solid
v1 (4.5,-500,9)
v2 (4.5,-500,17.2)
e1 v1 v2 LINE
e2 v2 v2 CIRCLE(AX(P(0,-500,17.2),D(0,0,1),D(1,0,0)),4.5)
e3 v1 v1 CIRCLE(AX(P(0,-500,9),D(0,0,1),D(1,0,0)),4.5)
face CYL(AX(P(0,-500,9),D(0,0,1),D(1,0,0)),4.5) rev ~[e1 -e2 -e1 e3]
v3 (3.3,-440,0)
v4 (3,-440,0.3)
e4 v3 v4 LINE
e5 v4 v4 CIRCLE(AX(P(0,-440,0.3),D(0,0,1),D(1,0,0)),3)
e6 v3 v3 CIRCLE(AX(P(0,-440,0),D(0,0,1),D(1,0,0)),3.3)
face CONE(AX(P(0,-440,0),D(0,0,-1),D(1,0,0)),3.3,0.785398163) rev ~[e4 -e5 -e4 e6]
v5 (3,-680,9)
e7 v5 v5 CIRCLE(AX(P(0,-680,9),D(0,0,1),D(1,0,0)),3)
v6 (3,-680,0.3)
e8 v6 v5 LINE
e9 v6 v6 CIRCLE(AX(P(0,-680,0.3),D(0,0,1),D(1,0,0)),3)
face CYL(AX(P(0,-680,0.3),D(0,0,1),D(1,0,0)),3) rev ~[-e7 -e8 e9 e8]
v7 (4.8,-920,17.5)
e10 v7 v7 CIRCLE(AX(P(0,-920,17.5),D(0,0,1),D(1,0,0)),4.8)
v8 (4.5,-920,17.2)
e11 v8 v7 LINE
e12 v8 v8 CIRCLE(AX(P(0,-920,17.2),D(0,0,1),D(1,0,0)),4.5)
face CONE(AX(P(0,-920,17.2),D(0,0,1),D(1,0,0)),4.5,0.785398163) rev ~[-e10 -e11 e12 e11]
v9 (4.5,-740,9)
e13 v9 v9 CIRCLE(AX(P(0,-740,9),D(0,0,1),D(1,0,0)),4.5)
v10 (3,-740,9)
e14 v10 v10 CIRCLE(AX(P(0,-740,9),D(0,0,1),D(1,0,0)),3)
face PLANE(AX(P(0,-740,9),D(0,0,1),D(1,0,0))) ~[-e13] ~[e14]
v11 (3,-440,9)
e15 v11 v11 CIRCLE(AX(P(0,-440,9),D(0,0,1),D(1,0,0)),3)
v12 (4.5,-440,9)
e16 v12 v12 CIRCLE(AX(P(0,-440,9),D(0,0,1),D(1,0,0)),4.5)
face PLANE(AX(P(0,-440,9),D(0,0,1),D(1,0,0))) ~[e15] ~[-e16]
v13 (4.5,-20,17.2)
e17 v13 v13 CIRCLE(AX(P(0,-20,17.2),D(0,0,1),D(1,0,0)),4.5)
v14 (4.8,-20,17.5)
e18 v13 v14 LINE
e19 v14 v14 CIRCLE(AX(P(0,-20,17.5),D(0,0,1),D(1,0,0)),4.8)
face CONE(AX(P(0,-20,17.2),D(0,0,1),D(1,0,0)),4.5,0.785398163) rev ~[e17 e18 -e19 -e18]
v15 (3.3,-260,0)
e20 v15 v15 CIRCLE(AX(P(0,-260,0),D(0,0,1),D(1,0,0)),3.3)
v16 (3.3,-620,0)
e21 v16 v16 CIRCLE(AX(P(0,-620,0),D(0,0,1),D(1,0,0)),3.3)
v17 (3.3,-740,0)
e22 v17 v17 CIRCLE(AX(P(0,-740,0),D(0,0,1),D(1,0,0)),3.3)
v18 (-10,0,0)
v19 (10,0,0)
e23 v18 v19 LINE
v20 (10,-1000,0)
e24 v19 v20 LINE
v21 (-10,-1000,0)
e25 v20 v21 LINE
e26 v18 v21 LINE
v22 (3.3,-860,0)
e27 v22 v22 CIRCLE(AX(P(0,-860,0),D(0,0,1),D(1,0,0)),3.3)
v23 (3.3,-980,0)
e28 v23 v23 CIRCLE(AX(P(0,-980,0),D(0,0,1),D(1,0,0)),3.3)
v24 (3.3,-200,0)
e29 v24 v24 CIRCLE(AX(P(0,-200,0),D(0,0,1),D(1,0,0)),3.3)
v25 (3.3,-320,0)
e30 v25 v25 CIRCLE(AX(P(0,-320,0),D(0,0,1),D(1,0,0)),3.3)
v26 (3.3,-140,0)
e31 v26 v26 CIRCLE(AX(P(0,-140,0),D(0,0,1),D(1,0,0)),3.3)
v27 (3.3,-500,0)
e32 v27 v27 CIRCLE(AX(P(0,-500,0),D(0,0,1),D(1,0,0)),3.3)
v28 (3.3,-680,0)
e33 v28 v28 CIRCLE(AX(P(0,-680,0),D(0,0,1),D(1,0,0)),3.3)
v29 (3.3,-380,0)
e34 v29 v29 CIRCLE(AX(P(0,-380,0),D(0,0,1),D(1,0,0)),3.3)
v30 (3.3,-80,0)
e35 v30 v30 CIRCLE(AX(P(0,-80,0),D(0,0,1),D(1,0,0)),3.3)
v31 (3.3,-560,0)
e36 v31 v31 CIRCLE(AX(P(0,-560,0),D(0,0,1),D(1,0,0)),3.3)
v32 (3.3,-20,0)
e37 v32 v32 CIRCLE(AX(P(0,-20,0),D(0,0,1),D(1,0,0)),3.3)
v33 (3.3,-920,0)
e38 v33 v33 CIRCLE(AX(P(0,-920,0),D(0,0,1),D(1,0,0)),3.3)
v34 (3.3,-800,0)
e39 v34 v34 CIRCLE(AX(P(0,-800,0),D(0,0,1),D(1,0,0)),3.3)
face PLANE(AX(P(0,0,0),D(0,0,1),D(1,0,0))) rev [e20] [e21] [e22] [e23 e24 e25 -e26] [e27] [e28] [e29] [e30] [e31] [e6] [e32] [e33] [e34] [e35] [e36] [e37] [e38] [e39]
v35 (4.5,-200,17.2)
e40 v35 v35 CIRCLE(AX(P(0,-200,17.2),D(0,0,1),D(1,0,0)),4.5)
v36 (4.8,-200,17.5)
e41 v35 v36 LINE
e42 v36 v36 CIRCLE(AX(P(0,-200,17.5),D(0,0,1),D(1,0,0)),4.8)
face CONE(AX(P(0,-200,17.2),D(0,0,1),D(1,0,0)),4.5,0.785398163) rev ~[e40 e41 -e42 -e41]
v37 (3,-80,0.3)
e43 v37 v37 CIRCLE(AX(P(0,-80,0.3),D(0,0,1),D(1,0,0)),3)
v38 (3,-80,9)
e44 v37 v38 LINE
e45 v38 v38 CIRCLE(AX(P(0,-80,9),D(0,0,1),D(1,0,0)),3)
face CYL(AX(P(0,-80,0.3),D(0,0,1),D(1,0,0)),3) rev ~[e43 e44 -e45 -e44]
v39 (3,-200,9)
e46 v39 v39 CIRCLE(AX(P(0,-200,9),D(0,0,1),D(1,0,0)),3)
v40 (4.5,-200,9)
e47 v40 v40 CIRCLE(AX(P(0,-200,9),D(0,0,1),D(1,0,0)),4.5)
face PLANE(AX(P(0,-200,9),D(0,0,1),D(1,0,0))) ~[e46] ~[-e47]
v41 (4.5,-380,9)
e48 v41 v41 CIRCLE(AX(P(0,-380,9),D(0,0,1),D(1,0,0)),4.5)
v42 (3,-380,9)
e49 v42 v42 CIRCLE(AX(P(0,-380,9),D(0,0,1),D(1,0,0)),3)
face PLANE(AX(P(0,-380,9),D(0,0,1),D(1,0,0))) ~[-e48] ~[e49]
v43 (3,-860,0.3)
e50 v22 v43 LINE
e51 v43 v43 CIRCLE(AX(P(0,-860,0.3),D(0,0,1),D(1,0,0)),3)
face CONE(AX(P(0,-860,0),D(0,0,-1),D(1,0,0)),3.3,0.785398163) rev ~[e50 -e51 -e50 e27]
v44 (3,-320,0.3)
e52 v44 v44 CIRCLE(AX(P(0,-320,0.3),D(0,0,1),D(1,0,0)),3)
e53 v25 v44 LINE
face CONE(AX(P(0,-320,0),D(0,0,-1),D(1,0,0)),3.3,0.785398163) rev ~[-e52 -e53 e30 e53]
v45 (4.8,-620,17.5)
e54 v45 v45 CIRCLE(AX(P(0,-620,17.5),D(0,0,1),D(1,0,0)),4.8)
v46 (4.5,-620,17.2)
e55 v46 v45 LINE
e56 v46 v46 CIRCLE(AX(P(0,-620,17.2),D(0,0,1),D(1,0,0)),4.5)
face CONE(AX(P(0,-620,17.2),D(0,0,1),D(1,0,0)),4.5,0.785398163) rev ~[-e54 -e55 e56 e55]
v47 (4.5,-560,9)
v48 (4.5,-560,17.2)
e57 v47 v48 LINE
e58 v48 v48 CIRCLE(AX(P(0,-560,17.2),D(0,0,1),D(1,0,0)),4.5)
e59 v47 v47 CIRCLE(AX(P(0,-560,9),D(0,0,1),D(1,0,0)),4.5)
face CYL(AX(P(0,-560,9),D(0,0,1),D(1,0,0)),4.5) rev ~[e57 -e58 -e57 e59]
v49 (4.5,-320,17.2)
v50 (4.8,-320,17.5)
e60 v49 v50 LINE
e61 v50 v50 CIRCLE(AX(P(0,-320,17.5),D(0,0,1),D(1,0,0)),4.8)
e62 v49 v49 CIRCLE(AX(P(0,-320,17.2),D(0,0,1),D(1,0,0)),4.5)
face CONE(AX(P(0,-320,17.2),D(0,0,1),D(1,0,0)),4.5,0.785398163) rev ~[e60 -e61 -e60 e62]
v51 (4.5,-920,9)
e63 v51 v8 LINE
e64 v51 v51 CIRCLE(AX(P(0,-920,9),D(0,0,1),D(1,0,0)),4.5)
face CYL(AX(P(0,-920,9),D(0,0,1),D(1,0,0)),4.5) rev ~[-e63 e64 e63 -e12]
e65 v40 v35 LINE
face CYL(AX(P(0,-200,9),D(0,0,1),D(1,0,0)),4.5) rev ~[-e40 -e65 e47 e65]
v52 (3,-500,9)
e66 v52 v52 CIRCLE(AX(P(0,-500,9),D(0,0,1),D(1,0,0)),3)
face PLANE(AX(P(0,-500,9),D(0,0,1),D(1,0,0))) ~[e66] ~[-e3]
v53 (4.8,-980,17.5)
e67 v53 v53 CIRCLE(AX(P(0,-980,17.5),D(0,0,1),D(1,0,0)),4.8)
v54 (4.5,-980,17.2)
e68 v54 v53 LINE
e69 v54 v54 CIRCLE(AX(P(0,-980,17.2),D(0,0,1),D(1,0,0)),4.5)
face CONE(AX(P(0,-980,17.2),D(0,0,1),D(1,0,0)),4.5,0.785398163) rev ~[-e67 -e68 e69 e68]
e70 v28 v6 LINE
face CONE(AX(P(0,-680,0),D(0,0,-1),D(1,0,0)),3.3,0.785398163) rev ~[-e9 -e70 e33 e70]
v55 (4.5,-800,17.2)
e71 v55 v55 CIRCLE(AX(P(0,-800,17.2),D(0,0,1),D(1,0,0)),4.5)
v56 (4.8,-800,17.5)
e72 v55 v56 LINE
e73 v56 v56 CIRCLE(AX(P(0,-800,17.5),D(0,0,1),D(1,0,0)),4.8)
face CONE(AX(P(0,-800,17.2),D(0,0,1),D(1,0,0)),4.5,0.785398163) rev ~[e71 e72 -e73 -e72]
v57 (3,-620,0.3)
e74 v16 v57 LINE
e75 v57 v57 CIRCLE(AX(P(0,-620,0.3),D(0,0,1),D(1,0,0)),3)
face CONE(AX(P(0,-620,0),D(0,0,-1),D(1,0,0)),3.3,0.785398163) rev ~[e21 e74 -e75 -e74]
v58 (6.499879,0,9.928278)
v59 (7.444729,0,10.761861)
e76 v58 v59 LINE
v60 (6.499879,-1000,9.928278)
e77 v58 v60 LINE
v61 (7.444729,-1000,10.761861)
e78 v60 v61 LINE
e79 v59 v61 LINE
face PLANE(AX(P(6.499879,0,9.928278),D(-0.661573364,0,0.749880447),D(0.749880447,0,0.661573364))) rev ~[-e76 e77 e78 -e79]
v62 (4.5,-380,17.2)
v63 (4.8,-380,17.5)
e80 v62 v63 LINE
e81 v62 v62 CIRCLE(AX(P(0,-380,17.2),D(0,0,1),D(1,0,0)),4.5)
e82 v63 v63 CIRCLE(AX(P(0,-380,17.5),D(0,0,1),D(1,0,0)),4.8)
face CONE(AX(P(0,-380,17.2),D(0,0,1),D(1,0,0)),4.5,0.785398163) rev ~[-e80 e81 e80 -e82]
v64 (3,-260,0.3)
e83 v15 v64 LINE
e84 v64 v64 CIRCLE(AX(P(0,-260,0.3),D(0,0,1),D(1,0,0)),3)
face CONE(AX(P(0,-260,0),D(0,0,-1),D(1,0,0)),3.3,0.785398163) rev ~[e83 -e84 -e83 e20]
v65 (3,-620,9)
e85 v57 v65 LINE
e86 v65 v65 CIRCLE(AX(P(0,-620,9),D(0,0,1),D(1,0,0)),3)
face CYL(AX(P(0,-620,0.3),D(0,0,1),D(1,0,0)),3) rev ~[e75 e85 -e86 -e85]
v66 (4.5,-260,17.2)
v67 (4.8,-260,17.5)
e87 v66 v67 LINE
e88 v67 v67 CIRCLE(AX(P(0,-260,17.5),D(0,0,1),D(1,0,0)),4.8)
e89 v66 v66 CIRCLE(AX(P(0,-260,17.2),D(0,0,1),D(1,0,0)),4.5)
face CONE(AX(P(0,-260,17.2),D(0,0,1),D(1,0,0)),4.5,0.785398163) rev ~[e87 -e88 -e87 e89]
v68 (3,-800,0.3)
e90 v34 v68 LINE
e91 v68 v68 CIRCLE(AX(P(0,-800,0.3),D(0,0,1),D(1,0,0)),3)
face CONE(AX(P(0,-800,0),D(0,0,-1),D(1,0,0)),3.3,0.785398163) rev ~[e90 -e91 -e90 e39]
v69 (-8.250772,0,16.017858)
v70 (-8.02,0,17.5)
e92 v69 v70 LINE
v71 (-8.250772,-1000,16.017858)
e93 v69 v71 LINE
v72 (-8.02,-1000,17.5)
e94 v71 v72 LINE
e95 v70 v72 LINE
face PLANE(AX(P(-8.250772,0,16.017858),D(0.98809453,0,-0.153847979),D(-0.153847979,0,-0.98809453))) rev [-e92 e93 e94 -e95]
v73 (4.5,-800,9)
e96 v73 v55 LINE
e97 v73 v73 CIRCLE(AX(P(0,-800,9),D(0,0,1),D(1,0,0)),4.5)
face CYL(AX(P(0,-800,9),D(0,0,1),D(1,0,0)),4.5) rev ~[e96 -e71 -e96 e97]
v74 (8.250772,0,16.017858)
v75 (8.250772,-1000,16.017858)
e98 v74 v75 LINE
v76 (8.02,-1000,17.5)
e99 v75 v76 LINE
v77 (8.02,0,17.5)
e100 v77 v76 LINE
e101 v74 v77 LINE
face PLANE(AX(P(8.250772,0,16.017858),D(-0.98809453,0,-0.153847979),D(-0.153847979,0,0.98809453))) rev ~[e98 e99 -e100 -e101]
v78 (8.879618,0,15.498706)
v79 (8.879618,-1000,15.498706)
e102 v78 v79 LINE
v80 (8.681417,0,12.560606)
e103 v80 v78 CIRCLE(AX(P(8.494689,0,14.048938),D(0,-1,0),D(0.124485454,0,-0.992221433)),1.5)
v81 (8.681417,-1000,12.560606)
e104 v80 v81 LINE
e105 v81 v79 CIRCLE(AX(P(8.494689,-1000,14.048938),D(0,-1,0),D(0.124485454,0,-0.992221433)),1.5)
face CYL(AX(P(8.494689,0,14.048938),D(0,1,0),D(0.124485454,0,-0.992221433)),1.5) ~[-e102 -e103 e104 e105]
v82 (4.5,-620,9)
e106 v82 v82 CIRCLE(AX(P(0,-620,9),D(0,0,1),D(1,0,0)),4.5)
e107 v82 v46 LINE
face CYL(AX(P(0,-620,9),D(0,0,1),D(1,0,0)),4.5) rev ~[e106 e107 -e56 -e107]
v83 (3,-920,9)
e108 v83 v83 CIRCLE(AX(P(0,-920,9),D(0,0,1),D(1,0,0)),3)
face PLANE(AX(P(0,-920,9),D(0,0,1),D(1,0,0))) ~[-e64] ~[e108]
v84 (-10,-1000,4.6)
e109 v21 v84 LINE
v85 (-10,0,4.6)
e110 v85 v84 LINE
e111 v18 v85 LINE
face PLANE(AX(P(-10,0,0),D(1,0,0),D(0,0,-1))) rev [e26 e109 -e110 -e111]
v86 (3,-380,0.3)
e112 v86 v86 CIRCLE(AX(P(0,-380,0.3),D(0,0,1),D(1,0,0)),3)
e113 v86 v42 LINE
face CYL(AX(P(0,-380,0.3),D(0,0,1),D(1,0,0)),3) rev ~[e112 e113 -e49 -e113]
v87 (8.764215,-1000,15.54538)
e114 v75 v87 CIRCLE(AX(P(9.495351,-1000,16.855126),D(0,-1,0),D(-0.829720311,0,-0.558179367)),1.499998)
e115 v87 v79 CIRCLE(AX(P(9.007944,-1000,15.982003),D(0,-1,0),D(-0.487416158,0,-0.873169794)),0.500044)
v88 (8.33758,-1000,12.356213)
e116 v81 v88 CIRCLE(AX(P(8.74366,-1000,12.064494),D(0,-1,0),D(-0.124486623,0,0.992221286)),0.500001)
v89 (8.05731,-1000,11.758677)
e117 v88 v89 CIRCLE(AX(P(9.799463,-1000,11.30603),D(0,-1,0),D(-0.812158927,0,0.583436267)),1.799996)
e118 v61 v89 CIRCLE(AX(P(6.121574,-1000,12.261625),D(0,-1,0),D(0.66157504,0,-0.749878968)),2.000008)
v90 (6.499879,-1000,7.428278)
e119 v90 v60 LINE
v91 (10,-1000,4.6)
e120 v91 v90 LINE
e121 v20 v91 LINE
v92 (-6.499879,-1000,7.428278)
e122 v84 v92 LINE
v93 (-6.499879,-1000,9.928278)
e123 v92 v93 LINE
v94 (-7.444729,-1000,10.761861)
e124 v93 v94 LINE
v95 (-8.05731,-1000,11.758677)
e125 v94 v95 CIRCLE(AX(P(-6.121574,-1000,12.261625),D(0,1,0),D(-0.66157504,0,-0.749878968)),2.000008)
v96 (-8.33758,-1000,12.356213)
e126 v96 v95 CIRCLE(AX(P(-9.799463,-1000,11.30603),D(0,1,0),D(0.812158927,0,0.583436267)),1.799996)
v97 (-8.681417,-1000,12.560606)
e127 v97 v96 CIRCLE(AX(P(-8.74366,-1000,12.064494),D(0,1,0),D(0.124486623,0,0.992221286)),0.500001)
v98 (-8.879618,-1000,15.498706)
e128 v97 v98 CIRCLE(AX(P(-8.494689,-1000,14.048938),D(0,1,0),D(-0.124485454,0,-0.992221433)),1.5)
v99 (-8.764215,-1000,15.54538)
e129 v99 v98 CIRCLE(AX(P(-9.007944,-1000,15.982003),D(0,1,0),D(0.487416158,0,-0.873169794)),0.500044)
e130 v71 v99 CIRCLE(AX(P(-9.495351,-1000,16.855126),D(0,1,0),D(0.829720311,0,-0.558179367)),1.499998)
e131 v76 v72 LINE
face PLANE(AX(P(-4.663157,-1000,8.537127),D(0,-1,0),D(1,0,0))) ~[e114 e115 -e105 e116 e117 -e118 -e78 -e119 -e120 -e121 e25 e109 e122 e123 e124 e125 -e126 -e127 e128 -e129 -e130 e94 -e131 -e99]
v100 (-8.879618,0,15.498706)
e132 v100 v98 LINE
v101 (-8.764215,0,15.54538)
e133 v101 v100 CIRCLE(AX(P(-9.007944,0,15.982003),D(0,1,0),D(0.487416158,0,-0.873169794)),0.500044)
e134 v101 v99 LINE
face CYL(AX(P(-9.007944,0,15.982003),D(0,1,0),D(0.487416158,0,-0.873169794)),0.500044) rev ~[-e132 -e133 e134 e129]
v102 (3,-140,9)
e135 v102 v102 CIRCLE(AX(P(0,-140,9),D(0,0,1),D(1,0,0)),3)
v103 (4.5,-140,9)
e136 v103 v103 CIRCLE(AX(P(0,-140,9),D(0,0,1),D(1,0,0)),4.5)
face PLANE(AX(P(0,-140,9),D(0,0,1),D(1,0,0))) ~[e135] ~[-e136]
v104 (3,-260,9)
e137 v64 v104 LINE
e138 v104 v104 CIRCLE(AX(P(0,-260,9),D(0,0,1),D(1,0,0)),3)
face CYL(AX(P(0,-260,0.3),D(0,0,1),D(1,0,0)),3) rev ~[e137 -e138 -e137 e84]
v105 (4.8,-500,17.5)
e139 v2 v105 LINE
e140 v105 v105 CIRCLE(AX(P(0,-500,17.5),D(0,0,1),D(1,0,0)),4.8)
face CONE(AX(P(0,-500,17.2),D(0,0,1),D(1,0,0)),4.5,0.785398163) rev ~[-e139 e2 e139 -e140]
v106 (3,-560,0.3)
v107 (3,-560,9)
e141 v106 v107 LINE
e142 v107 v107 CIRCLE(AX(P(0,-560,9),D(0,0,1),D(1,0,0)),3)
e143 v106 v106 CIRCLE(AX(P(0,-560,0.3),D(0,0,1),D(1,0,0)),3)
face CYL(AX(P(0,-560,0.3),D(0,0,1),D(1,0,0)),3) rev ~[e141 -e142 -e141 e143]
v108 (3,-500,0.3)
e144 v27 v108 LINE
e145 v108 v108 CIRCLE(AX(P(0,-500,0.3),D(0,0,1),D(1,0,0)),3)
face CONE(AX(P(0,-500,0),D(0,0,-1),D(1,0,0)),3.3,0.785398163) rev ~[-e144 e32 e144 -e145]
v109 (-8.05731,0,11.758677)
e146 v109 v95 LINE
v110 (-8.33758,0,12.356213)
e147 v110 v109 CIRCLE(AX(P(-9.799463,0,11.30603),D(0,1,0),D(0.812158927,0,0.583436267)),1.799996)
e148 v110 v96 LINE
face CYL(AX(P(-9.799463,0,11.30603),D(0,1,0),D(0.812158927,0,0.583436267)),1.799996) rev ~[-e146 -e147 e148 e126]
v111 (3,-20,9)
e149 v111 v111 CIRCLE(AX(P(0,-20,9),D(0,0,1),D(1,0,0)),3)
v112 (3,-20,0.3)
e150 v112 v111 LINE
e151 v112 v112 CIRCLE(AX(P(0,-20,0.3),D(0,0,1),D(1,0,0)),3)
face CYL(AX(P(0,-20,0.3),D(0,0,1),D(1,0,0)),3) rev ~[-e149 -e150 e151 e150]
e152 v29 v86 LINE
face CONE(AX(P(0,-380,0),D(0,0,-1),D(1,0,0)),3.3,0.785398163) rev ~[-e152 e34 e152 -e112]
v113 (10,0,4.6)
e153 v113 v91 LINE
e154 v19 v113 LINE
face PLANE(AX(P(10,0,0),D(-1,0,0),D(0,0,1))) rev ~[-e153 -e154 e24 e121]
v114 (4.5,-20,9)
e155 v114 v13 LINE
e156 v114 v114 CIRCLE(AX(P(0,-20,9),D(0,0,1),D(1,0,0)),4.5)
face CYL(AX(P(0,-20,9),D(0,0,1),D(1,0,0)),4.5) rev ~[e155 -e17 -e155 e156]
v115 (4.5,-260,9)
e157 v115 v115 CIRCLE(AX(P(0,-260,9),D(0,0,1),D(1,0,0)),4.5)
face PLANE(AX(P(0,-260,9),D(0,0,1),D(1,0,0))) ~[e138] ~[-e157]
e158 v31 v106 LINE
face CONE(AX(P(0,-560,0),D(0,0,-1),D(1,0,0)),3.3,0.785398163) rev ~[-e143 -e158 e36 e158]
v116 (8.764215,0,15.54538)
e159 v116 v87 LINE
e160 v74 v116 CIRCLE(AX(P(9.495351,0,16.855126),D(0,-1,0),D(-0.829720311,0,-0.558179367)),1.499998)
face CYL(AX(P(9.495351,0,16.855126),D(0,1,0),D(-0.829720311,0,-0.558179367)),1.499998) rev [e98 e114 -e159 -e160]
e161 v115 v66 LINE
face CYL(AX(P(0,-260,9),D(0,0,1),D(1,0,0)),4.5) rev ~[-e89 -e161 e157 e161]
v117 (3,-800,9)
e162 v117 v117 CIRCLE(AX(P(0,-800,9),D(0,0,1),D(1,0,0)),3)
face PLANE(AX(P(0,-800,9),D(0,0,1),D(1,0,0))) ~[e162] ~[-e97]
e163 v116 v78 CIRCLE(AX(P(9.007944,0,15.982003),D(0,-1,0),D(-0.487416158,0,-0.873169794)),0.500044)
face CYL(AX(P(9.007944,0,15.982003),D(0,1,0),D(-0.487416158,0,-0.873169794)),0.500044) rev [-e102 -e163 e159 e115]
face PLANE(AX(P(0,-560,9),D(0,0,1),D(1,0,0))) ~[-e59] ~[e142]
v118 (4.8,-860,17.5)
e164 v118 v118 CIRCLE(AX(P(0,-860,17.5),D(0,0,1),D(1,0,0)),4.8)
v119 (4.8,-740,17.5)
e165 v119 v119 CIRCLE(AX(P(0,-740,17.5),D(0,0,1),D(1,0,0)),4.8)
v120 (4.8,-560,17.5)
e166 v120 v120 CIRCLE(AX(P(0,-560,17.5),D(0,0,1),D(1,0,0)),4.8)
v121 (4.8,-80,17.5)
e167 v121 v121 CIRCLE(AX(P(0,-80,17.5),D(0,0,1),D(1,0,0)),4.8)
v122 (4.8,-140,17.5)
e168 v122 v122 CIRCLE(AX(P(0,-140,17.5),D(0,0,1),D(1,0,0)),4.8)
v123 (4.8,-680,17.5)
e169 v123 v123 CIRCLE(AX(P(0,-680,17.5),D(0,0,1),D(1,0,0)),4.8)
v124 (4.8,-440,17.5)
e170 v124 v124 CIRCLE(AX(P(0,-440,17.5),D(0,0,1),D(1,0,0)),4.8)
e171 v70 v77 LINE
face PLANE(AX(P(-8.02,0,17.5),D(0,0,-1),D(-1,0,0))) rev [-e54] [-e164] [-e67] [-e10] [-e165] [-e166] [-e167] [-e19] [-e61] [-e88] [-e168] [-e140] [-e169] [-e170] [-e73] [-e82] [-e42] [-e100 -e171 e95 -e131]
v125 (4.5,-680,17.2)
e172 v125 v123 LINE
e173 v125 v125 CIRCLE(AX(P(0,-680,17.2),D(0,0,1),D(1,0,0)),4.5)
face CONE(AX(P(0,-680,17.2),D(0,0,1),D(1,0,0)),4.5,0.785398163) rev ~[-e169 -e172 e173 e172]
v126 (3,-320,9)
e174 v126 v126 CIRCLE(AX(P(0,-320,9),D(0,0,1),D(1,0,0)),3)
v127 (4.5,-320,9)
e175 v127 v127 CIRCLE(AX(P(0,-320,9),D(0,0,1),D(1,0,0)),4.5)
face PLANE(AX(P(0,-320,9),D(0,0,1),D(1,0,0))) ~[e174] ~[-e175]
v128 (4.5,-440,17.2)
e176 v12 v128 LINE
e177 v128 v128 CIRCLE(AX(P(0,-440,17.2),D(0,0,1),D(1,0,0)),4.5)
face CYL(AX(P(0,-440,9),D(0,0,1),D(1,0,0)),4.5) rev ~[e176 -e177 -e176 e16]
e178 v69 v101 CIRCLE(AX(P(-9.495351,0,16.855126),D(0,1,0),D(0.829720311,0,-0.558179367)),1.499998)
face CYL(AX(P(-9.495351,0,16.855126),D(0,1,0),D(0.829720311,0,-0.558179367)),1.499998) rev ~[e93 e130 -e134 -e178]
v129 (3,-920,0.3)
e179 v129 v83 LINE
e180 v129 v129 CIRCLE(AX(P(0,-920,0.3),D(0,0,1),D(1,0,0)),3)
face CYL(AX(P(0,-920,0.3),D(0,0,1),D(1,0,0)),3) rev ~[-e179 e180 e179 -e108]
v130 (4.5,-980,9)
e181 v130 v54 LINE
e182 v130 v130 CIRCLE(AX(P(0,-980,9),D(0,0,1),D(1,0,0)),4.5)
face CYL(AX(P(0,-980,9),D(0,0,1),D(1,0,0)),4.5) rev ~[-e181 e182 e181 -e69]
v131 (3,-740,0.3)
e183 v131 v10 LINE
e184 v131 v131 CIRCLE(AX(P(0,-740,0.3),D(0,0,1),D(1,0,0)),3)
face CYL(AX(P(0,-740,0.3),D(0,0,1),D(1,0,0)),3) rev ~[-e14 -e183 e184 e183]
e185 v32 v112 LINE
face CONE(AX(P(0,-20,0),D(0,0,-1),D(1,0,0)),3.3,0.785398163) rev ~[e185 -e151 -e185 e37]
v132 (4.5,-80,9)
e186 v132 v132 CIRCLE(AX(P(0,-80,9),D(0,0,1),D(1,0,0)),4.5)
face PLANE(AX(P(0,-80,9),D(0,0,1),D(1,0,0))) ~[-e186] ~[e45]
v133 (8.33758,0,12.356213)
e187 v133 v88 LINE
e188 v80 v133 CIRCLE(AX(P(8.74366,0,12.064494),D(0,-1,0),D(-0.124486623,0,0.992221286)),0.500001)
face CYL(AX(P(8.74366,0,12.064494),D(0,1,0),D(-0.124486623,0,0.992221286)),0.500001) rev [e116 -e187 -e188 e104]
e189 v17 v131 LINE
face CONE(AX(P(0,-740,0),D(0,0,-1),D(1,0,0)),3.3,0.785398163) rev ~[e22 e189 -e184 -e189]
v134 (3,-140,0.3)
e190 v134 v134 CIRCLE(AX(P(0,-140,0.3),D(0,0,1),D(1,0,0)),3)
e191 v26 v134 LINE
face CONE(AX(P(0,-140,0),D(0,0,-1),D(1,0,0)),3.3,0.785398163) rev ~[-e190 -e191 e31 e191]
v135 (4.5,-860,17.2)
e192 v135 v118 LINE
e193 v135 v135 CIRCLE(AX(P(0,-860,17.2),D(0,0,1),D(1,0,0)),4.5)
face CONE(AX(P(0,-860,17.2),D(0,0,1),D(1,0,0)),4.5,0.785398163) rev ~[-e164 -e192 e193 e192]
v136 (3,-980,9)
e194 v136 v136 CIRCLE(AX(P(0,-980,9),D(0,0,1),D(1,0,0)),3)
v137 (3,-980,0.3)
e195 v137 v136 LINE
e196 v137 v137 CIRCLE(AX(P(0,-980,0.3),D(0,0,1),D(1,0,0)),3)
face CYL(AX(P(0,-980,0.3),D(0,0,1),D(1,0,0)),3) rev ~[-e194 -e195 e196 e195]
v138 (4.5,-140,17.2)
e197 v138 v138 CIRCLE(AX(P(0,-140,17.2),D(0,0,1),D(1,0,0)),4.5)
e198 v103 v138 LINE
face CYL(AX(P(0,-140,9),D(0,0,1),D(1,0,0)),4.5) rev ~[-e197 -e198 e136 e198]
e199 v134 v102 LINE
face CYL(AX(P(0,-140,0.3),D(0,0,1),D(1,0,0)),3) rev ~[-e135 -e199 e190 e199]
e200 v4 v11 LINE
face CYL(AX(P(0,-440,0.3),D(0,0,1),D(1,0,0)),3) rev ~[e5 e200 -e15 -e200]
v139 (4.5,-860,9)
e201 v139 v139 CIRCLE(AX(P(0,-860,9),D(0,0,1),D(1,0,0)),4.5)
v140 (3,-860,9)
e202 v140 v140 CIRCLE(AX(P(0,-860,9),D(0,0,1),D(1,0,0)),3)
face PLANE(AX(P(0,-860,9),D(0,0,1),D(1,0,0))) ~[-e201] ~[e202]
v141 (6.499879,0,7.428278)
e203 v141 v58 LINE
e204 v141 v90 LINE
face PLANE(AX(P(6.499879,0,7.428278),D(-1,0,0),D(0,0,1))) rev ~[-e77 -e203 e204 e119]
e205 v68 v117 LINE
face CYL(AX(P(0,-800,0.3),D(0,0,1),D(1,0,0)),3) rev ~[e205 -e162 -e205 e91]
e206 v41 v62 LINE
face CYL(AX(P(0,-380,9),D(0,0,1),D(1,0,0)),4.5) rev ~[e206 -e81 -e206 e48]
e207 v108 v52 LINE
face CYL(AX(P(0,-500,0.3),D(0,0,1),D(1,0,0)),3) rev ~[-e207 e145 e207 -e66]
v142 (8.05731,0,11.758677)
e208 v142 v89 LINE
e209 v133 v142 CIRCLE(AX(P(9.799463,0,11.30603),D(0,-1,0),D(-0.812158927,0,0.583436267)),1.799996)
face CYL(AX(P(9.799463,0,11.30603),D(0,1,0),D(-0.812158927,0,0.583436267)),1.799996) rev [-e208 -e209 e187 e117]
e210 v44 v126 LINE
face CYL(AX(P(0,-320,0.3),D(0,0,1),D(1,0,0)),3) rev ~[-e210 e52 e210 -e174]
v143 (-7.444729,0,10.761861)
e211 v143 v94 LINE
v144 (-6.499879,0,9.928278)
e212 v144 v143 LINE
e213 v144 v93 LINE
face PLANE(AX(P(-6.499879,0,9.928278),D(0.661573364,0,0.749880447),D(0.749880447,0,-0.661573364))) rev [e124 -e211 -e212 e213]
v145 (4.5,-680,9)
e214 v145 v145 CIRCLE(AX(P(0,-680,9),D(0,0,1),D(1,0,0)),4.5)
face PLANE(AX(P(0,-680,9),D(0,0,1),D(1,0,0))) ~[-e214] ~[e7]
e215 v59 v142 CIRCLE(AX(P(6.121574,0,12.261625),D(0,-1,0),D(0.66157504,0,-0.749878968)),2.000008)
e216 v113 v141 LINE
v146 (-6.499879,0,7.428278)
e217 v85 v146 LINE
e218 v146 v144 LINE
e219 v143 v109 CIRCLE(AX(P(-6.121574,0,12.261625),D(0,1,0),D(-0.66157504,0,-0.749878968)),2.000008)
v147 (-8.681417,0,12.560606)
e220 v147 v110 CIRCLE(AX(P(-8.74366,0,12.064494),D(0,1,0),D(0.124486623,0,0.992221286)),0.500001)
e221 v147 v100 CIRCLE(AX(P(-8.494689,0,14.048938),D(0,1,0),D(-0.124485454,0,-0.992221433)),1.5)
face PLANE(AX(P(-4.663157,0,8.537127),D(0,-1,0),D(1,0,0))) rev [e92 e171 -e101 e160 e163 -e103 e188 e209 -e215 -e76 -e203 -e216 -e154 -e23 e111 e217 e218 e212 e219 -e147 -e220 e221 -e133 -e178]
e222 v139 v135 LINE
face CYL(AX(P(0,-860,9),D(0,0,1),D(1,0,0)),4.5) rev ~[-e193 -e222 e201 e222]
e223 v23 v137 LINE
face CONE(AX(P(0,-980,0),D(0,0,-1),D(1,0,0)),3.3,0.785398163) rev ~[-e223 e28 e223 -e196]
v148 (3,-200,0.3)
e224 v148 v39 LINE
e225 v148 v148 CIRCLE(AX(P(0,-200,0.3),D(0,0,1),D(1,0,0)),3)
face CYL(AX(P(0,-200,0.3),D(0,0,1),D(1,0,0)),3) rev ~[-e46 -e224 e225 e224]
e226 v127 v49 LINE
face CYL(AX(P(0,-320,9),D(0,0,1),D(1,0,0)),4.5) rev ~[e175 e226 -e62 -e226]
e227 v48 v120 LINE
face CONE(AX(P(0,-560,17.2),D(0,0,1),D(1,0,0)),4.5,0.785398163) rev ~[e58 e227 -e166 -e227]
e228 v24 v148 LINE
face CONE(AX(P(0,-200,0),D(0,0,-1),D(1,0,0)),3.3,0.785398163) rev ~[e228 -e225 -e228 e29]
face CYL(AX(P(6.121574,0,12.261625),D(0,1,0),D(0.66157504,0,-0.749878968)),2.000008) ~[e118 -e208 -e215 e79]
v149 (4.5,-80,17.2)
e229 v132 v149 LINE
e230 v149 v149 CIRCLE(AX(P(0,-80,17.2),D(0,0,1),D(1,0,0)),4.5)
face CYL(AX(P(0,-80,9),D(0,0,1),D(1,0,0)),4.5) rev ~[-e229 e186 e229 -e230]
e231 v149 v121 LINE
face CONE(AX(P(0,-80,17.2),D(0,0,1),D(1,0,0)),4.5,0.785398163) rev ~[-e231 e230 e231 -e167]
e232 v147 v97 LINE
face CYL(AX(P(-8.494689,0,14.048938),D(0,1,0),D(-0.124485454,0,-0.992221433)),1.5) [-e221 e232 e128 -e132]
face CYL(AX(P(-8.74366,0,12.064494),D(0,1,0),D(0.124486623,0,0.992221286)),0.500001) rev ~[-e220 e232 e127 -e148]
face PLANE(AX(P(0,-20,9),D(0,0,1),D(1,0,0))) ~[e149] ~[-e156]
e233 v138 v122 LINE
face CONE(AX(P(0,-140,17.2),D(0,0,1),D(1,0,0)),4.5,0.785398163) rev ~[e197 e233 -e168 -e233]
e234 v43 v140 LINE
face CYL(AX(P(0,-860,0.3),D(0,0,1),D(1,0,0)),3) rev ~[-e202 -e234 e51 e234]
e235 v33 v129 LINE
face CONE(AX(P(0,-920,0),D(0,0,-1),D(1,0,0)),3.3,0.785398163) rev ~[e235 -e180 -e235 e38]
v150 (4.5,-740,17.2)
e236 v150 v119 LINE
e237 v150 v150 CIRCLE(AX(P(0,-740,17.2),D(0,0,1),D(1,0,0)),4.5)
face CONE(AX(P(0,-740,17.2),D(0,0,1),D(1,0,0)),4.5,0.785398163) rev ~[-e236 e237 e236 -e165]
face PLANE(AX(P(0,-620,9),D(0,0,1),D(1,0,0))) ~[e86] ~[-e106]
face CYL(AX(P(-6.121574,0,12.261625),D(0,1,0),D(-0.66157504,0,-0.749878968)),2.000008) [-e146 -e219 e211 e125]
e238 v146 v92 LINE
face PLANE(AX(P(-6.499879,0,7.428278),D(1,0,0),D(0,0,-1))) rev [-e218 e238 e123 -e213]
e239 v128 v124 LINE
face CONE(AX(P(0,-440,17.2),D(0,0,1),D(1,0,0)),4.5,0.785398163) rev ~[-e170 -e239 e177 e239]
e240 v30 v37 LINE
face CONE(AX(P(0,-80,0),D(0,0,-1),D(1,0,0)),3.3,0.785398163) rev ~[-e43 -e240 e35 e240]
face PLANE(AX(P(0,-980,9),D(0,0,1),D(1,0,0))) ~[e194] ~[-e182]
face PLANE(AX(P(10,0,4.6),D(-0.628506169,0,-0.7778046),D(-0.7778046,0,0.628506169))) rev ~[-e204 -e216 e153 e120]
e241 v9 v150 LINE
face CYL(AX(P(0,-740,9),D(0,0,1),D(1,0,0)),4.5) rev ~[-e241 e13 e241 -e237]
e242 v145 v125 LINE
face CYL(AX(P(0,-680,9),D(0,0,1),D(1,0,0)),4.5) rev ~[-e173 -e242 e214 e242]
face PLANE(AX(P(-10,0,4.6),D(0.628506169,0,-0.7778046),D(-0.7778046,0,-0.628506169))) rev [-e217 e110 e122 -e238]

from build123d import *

# Parameters (mm, degrees)
PAD_DEPTH           = 1000
LINEARPATTERN_COUNT = 17
LINEARPATTERN_PITCH = 60


with BuildPart() as part:
    # Sketch → Pad (new body)
    with BuildSketch(Plane.XZ):
        with BuildLine():
            Line((0, 0), (10, 0))
            Line((10, 0), (10, 4.6))
            Line((10, 4.6), (6.499879, 7.428278))
            Line((6.499879, 7.428278), (6.499879, 9.928278))
            Line((6.499879, 9.928278), (7.444729, 10.761861))
            ThreePointArc((7.444729, 10.761861), (7.825541, 11.214473), (8.05731, 11.758677))
            ThreePointArc((8.33758, 12.356213), (8.169824, 12.070401), (8.05731, 11.758677))
            ThreePointArc((8.681417, 12.560606), (8.488169, 12.494291), (8.33758, 12.356213))
            ThreePointArc((8.681417, 12.560606), (9.991287, 13.947979), (8.879618, 15.498706))
            ThreePointArc((8.764215, 15.54538), (8.820458, 15.518438), (8.879618, 15.498706))
            ThreePointArc((8.250772, 16.017858), (8.479639, 15.751349), (8.764215, 15.54538))
            Line((8.250772, 16.017858), (8.02, 17.5))
            Line((8.02, 17.5), (0, 17.5))
            Line((0, 17.5), (0, 0))
        make_face()
    pad = extrude(amount=PAD_DEPTH)

    # Mirrored: Pad across Sketch V_Axis
    add(pad.mirror(Plane(origin=(0, 0, 0), x_dir=(0, -1, 0), z_dir=(1, 0, 0))))

    # Sketch001 → Groove (revolve, cut)
    with BuildSketch(Plane.XZ.offset(20)):
        Polygon((0, 0), (3.3, 0), (3, 0.3), (3, 9), (4.5, 9), (4.5, 17.2), (4.8, 17.5), (0, 17.5), align=None)
    groove = revolve(axis=Axis((0, -20, 0), (0, 0, 1)), mode=Mode.SUBTRACT)

    # LinearPattern: Groove ×17
    with Locations(*[(0, -i * LINEARPATTERN_PITCH, 0) for i in range(1, LINEARPATTERN_COUNT)]):
        add(groove, mode=Mode.SUBTRACT)


solid = part.part
